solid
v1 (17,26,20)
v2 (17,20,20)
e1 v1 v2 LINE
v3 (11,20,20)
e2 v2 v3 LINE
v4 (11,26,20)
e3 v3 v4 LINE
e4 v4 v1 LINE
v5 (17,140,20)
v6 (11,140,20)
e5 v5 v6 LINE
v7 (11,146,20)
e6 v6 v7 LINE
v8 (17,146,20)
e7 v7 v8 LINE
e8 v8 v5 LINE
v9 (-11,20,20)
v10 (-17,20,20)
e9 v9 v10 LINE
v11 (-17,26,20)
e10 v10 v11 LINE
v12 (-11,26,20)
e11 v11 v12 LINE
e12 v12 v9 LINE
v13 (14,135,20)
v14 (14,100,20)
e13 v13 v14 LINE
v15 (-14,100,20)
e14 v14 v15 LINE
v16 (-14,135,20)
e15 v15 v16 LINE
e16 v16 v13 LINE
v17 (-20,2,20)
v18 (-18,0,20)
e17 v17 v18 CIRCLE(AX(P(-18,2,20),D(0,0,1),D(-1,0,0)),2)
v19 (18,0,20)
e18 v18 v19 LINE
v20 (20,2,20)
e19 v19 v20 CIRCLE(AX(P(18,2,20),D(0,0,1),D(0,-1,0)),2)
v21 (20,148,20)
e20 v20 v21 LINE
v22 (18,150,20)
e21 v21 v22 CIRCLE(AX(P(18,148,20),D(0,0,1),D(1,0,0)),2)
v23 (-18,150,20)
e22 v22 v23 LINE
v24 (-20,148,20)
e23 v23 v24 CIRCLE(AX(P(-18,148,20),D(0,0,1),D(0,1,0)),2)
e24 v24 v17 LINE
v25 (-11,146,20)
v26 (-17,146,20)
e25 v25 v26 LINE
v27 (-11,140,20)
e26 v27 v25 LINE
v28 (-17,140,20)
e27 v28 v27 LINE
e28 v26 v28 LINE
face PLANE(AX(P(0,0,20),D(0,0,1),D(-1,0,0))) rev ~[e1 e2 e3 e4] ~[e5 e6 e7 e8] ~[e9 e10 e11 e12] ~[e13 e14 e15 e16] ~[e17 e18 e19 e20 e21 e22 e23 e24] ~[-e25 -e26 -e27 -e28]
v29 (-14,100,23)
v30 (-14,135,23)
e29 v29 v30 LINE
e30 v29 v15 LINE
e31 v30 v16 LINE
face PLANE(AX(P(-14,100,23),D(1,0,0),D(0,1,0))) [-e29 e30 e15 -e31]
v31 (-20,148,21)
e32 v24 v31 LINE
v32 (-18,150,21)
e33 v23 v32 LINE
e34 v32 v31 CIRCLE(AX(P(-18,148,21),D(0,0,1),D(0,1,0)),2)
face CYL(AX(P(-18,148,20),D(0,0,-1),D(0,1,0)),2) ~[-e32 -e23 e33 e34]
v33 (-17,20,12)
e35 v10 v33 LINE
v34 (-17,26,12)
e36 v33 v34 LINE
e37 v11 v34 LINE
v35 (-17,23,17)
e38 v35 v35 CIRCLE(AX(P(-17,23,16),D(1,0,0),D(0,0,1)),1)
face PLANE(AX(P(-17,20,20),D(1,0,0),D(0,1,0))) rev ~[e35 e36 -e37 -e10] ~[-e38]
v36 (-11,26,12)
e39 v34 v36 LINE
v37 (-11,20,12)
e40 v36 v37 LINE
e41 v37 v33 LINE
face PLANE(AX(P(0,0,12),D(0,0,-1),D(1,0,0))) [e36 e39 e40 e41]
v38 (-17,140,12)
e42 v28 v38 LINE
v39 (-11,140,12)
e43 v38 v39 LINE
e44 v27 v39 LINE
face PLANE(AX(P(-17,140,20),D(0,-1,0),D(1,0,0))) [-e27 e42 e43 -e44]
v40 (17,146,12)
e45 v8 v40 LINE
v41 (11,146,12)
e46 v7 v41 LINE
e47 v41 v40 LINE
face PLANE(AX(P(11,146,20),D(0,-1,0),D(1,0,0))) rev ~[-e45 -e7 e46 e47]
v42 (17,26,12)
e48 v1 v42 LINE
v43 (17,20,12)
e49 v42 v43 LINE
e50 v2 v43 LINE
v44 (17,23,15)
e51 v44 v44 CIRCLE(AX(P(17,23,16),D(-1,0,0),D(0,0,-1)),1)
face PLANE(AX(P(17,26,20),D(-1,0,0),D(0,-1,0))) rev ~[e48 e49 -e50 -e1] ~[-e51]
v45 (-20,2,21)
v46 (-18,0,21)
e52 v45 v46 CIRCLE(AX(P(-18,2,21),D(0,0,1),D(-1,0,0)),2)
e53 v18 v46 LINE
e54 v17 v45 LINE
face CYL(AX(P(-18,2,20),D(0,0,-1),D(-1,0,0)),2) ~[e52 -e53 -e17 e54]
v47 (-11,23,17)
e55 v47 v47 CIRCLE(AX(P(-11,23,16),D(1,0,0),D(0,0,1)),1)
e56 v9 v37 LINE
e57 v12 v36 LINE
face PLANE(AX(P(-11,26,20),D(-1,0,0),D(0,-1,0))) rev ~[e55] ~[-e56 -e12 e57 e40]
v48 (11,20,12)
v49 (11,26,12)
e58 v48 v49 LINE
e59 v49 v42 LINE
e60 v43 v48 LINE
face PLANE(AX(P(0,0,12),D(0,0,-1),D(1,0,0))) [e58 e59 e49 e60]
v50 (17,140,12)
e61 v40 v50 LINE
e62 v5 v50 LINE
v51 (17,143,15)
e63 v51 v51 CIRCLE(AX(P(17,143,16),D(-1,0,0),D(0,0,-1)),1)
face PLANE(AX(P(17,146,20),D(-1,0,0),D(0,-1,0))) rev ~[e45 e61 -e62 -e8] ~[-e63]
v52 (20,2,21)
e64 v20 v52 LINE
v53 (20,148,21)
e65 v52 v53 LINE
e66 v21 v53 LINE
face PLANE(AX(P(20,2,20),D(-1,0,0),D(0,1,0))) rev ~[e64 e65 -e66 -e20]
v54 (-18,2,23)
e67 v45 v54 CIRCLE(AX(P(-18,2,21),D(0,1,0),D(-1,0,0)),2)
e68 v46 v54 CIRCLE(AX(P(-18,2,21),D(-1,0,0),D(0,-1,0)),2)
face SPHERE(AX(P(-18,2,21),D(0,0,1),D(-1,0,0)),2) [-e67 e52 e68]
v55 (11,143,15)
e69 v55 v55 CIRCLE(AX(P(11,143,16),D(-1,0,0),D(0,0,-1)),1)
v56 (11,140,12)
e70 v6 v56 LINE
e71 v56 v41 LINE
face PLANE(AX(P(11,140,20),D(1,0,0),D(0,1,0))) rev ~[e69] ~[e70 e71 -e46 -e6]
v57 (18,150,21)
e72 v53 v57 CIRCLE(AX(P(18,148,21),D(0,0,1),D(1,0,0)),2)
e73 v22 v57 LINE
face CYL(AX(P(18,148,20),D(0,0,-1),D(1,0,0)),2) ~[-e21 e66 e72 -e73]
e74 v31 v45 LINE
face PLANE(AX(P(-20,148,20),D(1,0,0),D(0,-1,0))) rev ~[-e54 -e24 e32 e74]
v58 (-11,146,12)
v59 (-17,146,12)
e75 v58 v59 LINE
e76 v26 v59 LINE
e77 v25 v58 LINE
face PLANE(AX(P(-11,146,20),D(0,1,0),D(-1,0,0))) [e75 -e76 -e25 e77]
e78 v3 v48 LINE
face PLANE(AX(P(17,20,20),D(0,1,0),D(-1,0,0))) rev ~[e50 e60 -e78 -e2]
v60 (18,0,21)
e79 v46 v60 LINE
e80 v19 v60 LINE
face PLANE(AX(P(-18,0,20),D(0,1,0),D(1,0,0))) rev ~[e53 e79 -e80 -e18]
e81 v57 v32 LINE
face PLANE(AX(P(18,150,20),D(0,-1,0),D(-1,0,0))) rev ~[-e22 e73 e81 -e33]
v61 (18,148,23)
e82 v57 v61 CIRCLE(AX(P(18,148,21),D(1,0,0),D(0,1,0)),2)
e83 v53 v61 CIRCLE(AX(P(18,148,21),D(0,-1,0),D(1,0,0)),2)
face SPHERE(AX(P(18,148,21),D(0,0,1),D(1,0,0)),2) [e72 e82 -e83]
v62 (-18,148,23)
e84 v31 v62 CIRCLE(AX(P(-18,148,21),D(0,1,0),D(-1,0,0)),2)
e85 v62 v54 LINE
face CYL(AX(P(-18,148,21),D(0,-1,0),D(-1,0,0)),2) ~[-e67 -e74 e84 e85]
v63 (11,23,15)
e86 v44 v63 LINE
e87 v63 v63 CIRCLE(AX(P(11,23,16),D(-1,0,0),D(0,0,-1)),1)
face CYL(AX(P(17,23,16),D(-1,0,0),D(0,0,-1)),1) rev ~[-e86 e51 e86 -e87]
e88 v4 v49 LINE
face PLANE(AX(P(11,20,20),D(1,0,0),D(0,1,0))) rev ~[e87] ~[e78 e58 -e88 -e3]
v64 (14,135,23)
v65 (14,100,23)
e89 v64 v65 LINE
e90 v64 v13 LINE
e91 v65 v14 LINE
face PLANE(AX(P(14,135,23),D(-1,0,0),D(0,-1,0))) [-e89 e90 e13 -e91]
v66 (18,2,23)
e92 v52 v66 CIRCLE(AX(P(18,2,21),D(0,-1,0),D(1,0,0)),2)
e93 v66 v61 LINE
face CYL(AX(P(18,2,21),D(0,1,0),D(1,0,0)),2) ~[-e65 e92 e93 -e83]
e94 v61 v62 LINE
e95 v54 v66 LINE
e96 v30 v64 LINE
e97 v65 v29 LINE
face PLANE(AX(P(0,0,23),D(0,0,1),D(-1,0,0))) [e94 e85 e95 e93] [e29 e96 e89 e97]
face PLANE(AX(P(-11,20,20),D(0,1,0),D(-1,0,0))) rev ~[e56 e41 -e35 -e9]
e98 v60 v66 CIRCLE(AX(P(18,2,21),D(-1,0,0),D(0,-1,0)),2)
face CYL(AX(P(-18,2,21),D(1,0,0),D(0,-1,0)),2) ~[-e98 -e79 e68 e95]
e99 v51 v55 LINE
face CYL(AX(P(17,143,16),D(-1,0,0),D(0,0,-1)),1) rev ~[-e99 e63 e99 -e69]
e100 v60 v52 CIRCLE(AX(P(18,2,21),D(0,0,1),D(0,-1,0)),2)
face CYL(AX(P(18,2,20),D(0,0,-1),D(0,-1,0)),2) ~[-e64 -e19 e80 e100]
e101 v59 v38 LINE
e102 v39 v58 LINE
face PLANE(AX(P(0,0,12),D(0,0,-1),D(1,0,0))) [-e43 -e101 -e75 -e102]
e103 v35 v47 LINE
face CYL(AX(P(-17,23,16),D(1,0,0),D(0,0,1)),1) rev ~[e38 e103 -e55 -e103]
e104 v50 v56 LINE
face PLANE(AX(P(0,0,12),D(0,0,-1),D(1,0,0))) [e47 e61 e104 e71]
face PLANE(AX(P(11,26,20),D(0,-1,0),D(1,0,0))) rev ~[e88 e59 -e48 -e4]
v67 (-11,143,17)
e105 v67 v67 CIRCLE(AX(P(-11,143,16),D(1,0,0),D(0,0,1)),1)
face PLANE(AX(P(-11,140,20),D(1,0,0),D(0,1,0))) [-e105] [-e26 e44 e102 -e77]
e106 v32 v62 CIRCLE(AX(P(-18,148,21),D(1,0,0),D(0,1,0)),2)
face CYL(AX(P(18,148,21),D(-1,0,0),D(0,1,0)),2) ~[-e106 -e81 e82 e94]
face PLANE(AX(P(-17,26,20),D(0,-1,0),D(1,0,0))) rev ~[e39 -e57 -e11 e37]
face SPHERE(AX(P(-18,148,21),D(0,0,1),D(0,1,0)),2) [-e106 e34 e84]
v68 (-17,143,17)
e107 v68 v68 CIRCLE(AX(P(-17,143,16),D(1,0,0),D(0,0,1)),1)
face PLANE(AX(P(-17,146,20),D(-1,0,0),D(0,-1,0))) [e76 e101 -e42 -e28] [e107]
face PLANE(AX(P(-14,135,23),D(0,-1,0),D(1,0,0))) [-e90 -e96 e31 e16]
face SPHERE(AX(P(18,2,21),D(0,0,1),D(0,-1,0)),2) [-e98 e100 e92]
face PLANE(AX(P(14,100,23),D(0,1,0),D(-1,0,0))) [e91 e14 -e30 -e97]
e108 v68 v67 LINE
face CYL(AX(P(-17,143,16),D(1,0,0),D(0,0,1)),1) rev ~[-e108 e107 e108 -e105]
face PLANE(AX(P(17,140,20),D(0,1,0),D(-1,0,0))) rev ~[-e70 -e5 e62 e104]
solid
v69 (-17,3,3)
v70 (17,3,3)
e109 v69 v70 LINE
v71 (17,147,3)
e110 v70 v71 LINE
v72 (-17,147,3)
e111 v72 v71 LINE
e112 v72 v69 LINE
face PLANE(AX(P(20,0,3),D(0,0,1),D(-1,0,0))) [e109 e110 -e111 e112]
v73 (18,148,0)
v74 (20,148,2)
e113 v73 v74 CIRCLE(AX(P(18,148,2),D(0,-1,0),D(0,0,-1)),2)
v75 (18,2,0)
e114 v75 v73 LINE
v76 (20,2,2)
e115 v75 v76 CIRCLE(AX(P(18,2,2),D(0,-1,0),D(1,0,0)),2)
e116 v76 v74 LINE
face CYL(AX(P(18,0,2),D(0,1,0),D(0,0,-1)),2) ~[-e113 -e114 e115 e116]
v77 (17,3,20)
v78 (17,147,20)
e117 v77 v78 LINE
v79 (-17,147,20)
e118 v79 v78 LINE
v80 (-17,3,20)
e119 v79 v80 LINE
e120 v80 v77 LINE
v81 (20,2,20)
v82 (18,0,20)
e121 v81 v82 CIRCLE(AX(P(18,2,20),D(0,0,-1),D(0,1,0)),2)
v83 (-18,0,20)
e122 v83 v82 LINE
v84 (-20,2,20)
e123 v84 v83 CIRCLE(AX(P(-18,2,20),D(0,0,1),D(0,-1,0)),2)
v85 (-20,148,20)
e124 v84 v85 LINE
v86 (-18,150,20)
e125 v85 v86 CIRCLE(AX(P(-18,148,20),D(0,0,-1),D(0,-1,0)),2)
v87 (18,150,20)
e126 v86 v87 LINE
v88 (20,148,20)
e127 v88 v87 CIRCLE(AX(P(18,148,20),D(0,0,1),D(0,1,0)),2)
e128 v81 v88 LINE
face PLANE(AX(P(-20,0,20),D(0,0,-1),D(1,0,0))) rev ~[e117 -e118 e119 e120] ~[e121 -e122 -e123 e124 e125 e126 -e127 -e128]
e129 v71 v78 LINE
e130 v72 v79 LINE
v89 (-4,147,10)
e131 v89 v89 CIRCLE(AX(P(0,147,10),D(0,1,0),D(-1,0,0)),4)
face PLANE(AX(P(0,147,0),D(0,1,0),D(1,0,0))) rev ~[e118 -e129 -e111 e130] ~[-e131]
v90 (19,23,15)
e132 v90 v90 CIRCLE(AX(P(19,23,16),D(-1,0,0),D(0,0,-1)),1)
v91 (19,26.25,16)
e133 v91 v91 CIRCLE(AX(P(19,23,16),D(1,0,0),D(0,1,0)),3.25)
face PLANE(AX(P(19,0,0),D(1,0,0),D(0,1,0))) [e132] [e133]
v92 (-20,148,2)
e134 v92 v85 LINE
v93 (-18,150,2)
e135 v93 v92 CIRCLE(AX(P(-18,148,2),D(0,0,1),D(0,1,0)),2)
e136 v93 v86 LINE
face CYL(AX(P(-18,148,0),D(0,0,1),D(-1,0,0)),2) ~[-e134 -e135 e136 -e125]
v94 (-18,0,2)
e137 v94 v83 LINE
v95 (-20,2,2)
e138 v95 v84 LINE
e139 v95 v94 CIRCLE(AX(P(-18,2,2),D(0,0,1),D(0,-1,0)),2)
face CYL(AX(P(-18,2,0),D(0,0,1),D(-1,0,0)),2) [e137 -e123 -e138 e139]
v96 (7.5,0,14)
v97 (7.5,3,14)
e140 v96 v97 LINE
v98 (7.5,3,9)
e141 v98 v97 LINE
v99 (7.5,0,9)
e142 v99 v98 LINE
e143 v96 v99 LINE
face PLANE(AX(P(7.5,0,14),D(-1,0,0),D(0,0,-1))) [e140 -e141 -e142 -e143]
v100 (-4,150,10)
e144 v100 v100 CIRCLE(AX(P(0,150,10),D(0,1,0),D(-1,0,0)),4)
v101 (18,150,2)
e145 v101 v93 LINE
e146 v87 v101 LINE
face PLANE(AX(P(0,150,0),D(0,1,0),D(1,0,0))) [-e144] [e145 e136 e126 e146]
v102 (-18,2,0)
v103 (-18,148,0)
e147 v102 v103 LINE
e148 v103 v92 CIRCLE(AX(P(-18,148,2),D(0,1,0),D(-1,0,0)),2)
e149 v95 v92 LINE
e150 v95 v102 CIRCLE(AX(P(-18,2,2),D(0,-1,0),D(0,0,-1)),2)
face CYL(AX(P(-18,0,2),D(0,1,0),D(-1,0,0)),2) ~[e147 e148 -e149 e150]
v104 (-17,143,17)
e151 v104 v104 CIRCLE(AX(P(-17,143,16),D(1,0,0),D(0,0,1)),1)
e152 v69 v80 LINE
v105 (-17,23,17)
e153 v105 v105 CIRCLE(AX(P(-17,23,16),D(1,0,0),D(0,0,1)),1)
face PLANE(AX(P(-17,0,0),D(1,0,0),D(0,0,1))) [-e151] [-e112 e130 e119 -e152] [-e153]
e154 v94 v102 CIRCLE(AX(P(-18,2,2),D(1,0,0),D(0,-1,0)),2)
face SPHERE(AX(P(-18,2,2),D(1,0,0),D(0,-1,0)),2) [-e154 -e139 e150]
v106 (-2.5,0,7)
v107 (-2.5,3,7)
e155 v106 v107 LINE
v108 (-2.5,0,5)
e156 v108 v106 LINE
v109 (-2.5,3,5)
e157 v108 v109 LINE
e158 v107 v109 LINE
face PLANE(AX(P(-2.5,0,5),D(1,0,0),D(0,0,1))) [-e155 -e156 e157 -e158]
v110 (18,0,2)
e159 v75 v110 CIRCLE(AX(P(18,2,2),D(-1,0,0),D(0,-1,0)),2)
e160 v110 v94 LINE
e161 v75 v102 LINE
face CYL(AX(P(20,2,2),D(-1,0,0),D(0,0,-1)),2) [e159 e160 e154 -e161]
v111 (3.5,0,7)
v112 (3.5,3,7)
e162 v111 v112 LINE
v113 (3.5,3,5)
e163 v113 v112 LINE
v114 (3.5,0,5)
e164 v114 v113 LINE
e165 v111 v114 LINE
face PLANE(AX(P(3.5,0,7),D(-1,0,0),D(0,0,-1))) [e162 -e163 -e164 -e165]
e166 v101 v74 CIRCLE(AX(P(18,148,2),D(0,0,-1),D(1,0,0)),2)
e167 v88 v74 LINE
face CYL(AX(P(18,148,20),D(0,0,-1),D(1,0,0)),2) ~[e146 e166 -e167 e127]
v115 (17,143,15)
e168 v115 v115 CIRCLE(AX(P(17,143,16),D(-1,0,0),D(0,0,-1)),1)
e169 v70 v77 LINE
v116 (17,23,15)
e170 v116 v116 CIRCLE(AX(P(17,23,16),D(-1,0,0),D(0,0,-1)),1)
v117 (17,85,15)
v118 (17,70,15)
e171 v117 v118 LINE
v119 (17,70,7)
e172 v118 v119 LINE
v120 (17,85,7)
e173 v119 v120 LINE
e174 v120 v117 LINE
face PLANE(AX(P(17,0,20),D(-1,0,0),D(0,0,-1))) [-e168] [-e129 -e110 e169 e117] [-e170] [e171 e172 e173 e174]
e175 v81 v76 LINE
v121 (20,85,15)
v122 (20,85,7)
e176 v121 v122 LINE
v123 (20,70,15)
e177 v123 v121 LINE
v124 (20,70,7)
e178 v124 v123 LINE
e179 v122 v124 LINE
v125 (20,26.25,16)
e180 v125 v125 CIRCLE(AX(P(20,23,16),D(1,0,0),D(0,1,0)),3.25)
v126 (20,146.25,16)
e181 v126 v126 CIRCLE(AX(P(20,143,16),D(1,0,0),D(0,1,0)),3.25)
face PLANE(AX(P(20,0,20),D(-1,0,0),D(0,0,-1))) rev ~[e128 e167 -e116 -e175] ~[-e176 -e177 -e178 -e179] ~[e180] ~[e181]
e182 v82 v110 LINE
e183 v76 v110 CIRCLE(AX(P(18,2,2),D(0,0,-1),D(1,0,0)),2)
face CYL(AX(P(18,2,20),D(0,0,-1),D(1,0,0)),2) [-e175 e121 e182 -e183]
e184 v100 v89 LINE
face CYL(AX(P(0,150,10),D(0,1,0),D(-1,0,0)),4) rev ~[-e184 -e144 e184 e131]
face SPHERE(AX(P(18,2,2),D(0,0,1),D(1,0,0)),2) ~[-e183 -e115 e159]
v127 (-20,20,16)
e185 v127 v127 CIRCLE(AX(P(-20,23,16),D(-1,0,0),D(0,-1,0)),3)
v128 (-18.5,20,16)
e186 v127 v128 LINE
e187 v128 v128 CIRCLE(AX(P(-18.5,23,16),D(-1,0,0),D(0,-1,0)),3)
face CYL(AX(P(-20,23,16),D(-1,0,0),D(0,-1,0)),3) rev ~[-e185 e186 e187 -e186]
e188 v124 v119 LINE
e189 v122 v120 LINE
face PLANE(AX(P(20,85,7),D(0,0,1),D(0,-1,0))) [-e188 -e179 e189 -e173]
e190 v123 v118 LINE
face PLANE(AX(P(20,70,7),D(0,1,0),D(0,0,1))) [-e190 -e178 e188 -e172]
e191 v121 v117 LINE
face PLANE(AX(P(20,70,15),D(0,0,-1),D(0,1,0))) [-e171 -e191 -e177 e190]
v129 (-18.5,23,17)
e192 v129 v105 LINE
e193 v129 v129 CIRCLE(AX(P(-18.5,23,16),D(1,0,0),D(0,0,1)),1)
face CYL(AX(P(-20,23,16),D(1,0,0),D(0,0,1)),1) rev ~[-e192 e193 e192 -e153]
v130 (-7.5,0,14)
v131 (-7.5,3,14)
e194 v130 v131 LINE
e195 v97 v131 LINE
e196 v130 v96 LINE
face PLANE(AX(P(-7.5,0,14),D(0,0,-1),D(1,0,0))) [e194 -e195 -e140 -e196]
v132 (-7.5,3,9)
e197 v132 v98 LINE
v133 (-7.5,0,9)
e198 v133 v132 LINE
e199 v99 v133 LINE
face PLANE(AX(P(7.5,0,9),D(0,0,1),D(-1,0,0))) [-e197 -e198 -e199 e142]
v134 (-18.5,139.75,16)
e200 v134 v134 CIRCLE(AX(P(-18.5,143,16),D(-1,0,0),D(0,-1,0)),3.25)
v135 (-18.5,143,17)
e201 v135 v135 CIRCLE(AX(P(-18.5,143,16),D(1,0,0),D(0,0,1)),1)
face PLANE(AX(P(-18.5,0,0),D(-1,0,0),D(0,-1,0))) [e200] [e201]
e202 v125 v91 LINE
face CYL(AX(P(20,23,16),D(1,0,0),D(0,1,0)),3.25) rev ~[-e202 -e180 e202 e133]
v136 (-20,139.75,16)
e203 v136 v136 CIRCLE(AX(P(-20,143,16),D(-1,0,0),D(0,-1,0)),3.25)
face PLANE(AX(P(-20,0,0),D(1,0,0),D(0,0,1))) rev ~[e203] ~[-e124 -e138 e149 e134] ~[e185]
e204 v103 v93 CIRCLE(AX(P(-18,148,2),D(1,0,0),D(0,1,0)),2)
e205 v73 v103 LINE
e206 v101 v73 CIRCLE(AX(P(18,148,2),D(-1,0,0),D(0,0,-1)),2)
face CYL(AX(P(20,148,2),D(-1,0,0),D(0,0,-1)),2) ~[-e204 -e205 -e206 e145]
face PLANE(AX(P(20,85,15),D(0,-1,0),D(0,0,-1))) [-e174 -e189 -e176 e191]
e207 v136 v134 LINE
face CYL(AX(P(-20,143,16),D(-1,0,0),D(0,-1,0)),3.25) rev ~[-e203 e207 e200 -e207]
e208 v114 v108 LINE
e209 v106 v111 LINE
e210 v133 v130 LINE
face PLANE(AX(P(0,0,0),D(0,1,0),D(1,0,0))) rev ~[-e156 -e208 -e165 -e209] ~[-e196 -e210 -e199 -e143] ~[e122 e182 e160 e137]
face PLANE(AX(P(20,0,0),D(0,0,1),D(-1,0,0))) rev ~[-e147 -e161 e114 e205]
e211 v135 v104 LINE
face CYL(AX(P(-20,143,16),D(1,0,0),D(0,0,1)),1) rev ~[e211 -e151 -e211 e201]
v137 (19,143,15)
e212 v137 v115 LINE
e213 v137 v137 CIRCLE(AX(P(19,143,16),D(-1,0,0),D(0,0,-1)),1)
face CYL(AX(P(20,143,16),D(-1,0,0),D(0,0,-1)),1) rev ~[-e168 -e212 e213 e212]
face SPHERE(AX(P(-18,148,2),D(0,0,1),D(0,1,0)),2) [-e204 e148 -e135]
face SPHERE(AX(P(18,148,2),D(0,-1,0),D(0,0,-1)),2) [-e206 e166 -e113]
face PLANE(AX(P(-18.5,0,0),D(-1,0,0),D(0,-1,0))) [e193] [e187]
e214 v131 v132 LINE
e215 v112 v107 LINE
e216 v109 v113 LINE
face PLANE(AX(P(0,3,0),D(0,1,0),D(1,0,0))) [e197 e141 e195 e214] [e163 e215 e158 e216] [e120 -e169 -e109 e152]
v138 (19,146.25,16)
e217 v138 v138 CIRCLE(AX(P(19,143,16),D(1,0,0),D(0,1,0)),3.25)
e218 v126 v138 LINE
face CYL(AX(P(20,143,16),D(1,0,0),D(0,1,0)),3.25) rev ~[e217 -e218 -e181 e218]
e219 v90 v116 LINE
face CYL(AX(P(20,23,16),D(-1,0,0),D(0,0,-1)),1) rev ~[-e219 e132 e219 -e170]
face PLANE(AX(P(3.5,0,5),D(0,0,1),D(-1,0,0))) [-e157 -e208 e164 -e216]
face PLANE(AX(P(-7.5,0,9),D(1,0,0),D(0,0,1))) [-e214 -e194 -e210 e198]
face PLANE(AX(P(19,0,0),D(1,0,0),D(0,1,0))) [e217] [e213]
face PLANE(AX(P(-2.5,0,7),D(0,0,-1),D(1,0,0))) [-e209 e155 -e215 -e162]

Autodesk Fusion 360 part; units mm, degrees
sketch "Sketch1" plane through (0, 0, 0) normal (0, 1, 0) x (1, 0, 0) in component "Case"
  line L0 (-20, -20) -> (20, -20)
  line L1 (20, -20) -> (20, 0)
  line L2 (20, 0) -> (-20, 0)
  line L3 (-20, 0) -> (-20, -20)
  dimension "d1" = 40
  dimension "d2" = 20
  dimension "d3" = 20
  dimension "d4" = 20
extrude "Extrude1" add sketch "Sketch1" along normal blind 150 makes body 1 in component "Case"
fillet "Fillet1" radius 2 8 edges at (20, 0, 10) (20, 75, 0) (0, 0, 0) (-20, 0, 10) (-20, 150, 10) (0, 150, 0) (-20, 75, 0) (20, 150, 10) on bodies 1 in component "Case"
shell "Shell1" thickness 3 removed faces 1 at (-6.6667, 50.6667, 20) on bodies 1 in component "Case"
sketch "Sketch1 (2)" plane through (0, 0, 20) normal (0, 0, 1) x (-1, 0, 0) in component "Front"
  line L0 (-17, -147) -> (-17, -3)
  line L1 (-17, -3) -> (17, -3)
  line L2 (17, -3) -> (17, -147)
  line L3 (17, -147) -> (-17, -147)
  arc A0 (-18, 0) -> (-20, -2) centre (-18, -2) ccw
  line L4 (-20, -2) -> (-20, -148)
  arc A1 (-20, -148) -> (-18, -150) centre (-18, -148) ccw
  line L5 (-18, -150) -> (18, -150)
  arc A2 (18, -150) -> (20, -148) centre (18, -148) ccw
  line L6 (20, -148) -> (20, -2)
  arc A3 (20, -2) -> (18, 0) centre (18, -2) ccw
  line L7 (18, 0) -> (-18, 0)
  line L8 (17, -3) -> (-17, -3)
  line L9 (-17, -3) -> (-17, -147)
  line L10 (-17, -147) -> (17, -147)
  line L11 (17, -147) -> (17, -3)
extrude "Extrude1'" add sketch "Sketch1 (2)" along normal blind 3 separate body contours L0 L1 L2 L3 L8 L9 L10 L11 | A0 L4 A1 L5 A2 L6 A3 L7 makes body 2 in component "Front"
sketch "Sketch2" plane through (0, 0, 20) normal (0, 0, -1) x (1, 0, 0) in component "Front"
  line L0 (18, 0) -> (-18, 0)
  arc A0 (-18, 0) -> (-20, -2) centre (-18, -2) ccw
  line L1 (-20, -2) -> (-20, -148)
  arc A1 (-20, -148) -> (-18, -150) centre (-18, -148) ccw
  line L2 (-18, -150) -> (18, -150)
  arc A2 (18, -150) -> (20, -148) centre (18, -148) ccw
  line L3 (20, -148) -> (20, -2)
  arc A3 (20, -2) -> (18, 0) centre (18, -2) ccw
  line L4 (-17, -140) -> (-11, -140)
  line L5 (-11, -140) -> (-11, -146)
  line L6 (-11, -146) -> (-17, -146)
  line L7 (-17, -146) -> (-17, -140)
  line L8 (17, -140) -> (11, -140)
  line L9 (11, -140) -> (11, -146)
  line L10 (11, -146) -> (17, -146)
  line L11 (17, -146) -> (17, -140)
  line L12 (17, -20) -> (11, -20)
  line L13 (11, -20) -> (11, -26)
  line L14 (11, -26) -> (17, -26)
  line L15 (17, -26) -> (17, -20)
  line L16 (-11, -20) -> (-17, -20)
  line L17 (-17, -20) -> (-17, -26)
  line L18 (-17, -26) -> (-11, -26)
  line L19 (-11, -26) -> (-11, -20)
  dimension "d11" = 6
  dimension "d12" = 6
  dimension "d13" = 4
  dimension "d14" = 3
  dimension "d15" = 6
  dimension "d16" = 6
  dimension "d17" = 3
  dimension "d18" = 4
  dimension "d19" = 6
  dimension "d20" = 6
  dimension "d21" = 3
  dimension "d22" = 20
  dimension "d23" = 6
  dimension "d24" = 6
  dimension "d25" = 20
  dimension "d26" = 3
extrude "Extrude2" add sketch "Sketch2" along normal blind 8 contours L4 L5 L6 L7 | L8 L9 L10 L11 | L12 L13 L14 L15 | L16 L17 L18 L19 bodies 2 in component "Front"
hole "Hole1" at (-17, 143, 16) direction (1, 0, 0) diameter 2 depth 6 tip angle 118 bodies 2 in component "Front"
hole "Hole2" at (17, 143, 16) direction (-1, 0, 0) diameter 2 depth 6 tip angle 118 bodies 2 in component "Front"
hole "Hole3" at (17, 23, 16) direction (-1, 0, 0) diameter 2 depth 6 tip angle 118 bodies 2 in component "Front"
hole "Hole4" at (-17, 23, 16) direction (1, 0, 0) diameter 2 depth 6 tip angle 118 bodies 2 in component "Front"
sketch "Sketch3" plane through (0, 0, 23) normal (0, 0, 1) x (-1, 0, 0) in component "Front"
  line L0 (18, 0) -> (-18, 0)
  arc A0 (-18, 0) -> (-20, -2) centre (-18, -2) ccw
  line L1 (-20, -2) -> (-20, -148)
  arc A1 (-20, -148) -> (-18, -150) centre (-18, -148) ccw
  line L2 (-18, -150) -> (18, -150)
  arc A2 (18, -150) -> (20, -148) centre (18, -148) ccw
  line L3 (20, -148) -> (20, -2)
  arc A3 (20, -2) -> (18, 0) centre (18, -2) ccw
  line L4 (14, -135) -> (-14, -135)
  line L5 (-14, -135) -> (-14, -100)
  line L6 (-14, -100) -> (14, -100)
  line L7 (14, -100) -> (14, -135)
  dimension "d41" = 28
  dimension "d42" = 35
  dimension "d43" = 6
  dimension "d44" = 15
extrude "Extrude3" cut sketch "Sketch3" against normal blind 4 contours L4 L5 L6 L7 bodies 2 in component "Front"
sketch "Sketch2 (2)" plane through (20, 0, 0) normal (1, 0, 0) x (0, 1, 0) in component "Case"
  line L0 (2, 20) -> (2, 2)
  line L1 (2, 2) -> (148, 2)
  line L2 (148, 2) -> (148, 20)
  line L3 (148, 20) -> (2, 20)
  circle A0 centre (23, 16) radius 3.25
  circle A1 centre (143, 16) radius 3.25
  line L4 (70, 15) -> (85, 15)
  line L5 (85, 15) -> (85, 7)
  line L6 (85, 7) -> (70, 7)
  line L7 (70, 7) -> (70, 15)
  line L8 (0, 20) -> (0, 2)
  point P0 (0, 20)
  point P1 (150, 20)
  dimension "d47" = 6.5
  dimension "d48" = 4
  dimension "d49" = 23
  dimension "d50" = 6.5
  dimension "d51" = 4
  dimension "d52" = 7
  dimension "d53" = 8
  dimension "d85" = 70
hole "Hole2'" at (20, 143, 16) direction (-1, 0, 0) diameter 2 depth 6 tip angle 118 bodies 1 in component "Case"
hole "Hole1'" at (20, 23, 16) direction (-1, 0, 0) diameter 2 depth 6 tip angle 118 bodies 1 in component "Case"
extrude "Extrude2'" cut sketch "Sketch2 (2)" against normal blind 1 contours A0 | A1 bodies 1 in component "Case"
extrude "Extrude5" cut sketch "Sketch2 (2)" against normal blind 4 contours L4 L5 L6 L7 bodies 1 in component "Case"
sketch "Sketch3 (2)" plane through (-20, 0, 0) normal (-1, 0, 0) x (0, -1, 0) in component "Case"
  line L0 (-2, 2) -> (-2, 20)
  line L1 (-2, 20) -> (-148, 20)
  line L2 (-148, 20) -> (-148, 2)
  line L3 (-148, 2) -> (-2, 2)
  circle A0 centre (-143, 16) radius 3.25
  circle A1 centre (-23, 16) radius 3
  point P0 (-150, 20)
  point P1 (0, 20)
  dimension "d65" = 6.5
  dimension "d66" = 7
  dimension "d67" = 4
  dimension "d68" = 6
  dimension "d69" = 23
  dimension "d70" = 4
hole "Hole4'" at (-20, 143, 16) direction (1, 0, 0) diameter 2 depth 6 tip angle 118 bodies 1 in component "Case"
hole "Hole3'" at (-20, 23, 16) direction (1, 0, 0) diameter 2 depth 6 tip angle 118 bodies 1 in component "Case"
extrude "Extrude3'" cut sketch "Sketch3 (2)" against normal blind 1.5 contours A0 | A1 bodies 1 in component "Case"
sketch "Sketch4" plane through (0, 150, 0) normal (0, 1, 0) x (-1, 0, 0) in component "Case"
  line L0 (-18, 20) -> (-18, 2)
  line L1 (-18, 2) -> (18, 2)
  line L2 (18, 2) -> (18, 20)
  line L3 (18, 20) -> (-18, 20)
  circle A0 centre (0, 10) radius 4
  dimension "d79" = 8
  dimension "d80" = 10
extrude "Extrude4" cut sketch "Sketch4" against normal blind 4 contours A0 bodies 1 in component "Case"
fillet "Fillet1'" radius 2 8 edges at (0, 150, 23) (-19.4142, 149.4142, 23) (-20, 75, 23) (-19.4142, 0.5858, 23) (0, 0, 23) (19.4142, 0.5858, 23) (20, 75, 23) (19.4142, 149.4142, 23) on bodies 2 in component "Front"
sketch "Sketch5" plane through (0, 0, 0) normal (0, -1, 0) x (1, 0, 0) in component "Case"
  line L0 (18, 2) -> (18, 20)
  line L1 (18, 20) -> (-18, 20)
  line L2 (-18, 20) -> (-18, 2)
  line L3 (-18, 2) -> (18, 2)
  line L4 (-7.5, 14) -> (7.5, 14)
  line L5 (7.5, 14) -> (7.5, 9)
  line L6 (7.5, 9) -> (-7.5, 9)
  line L7 (-7.5, 9) -> (-7.5, 14)
  line L8 (-2.5, 7) -> (3.5, 7)
  line L9 (3.5, 7) -> (3.5, 5)
  line L10 (3.5, 5) -> (-2.5, 5)
  line L11 (-2.5, 5) -> (-2.5, 7)
  line L12 (-18, 0) -> (18, 0)
  point P0 (20, 2)
  point P1 (20, 7)
  dimension "d88" = 15
  dimension "d89" = 5
  dimension "d90" = 6
  dimension "d91" = 2
  dimension "d92" = 7
  dimension "d94" = 16.5
  dimension "d95" = 9
  dimension "d96" = 12.5
extrude "Extrude6" cut sketch "Sketch5" against normal blind 4 contours L4 L5 L6 L7 | L8 L9 L10 L11 bodies 1 in component "Case"
component "Case" placed x (1, 0, 0) y (0, 1, 0) z (0, 0, 1) at (0, 0, 0)
component "Front" placed x (1, 0, 0) y (0, 1, 0) z (0, 0, 1) at (0, 0, 0)
